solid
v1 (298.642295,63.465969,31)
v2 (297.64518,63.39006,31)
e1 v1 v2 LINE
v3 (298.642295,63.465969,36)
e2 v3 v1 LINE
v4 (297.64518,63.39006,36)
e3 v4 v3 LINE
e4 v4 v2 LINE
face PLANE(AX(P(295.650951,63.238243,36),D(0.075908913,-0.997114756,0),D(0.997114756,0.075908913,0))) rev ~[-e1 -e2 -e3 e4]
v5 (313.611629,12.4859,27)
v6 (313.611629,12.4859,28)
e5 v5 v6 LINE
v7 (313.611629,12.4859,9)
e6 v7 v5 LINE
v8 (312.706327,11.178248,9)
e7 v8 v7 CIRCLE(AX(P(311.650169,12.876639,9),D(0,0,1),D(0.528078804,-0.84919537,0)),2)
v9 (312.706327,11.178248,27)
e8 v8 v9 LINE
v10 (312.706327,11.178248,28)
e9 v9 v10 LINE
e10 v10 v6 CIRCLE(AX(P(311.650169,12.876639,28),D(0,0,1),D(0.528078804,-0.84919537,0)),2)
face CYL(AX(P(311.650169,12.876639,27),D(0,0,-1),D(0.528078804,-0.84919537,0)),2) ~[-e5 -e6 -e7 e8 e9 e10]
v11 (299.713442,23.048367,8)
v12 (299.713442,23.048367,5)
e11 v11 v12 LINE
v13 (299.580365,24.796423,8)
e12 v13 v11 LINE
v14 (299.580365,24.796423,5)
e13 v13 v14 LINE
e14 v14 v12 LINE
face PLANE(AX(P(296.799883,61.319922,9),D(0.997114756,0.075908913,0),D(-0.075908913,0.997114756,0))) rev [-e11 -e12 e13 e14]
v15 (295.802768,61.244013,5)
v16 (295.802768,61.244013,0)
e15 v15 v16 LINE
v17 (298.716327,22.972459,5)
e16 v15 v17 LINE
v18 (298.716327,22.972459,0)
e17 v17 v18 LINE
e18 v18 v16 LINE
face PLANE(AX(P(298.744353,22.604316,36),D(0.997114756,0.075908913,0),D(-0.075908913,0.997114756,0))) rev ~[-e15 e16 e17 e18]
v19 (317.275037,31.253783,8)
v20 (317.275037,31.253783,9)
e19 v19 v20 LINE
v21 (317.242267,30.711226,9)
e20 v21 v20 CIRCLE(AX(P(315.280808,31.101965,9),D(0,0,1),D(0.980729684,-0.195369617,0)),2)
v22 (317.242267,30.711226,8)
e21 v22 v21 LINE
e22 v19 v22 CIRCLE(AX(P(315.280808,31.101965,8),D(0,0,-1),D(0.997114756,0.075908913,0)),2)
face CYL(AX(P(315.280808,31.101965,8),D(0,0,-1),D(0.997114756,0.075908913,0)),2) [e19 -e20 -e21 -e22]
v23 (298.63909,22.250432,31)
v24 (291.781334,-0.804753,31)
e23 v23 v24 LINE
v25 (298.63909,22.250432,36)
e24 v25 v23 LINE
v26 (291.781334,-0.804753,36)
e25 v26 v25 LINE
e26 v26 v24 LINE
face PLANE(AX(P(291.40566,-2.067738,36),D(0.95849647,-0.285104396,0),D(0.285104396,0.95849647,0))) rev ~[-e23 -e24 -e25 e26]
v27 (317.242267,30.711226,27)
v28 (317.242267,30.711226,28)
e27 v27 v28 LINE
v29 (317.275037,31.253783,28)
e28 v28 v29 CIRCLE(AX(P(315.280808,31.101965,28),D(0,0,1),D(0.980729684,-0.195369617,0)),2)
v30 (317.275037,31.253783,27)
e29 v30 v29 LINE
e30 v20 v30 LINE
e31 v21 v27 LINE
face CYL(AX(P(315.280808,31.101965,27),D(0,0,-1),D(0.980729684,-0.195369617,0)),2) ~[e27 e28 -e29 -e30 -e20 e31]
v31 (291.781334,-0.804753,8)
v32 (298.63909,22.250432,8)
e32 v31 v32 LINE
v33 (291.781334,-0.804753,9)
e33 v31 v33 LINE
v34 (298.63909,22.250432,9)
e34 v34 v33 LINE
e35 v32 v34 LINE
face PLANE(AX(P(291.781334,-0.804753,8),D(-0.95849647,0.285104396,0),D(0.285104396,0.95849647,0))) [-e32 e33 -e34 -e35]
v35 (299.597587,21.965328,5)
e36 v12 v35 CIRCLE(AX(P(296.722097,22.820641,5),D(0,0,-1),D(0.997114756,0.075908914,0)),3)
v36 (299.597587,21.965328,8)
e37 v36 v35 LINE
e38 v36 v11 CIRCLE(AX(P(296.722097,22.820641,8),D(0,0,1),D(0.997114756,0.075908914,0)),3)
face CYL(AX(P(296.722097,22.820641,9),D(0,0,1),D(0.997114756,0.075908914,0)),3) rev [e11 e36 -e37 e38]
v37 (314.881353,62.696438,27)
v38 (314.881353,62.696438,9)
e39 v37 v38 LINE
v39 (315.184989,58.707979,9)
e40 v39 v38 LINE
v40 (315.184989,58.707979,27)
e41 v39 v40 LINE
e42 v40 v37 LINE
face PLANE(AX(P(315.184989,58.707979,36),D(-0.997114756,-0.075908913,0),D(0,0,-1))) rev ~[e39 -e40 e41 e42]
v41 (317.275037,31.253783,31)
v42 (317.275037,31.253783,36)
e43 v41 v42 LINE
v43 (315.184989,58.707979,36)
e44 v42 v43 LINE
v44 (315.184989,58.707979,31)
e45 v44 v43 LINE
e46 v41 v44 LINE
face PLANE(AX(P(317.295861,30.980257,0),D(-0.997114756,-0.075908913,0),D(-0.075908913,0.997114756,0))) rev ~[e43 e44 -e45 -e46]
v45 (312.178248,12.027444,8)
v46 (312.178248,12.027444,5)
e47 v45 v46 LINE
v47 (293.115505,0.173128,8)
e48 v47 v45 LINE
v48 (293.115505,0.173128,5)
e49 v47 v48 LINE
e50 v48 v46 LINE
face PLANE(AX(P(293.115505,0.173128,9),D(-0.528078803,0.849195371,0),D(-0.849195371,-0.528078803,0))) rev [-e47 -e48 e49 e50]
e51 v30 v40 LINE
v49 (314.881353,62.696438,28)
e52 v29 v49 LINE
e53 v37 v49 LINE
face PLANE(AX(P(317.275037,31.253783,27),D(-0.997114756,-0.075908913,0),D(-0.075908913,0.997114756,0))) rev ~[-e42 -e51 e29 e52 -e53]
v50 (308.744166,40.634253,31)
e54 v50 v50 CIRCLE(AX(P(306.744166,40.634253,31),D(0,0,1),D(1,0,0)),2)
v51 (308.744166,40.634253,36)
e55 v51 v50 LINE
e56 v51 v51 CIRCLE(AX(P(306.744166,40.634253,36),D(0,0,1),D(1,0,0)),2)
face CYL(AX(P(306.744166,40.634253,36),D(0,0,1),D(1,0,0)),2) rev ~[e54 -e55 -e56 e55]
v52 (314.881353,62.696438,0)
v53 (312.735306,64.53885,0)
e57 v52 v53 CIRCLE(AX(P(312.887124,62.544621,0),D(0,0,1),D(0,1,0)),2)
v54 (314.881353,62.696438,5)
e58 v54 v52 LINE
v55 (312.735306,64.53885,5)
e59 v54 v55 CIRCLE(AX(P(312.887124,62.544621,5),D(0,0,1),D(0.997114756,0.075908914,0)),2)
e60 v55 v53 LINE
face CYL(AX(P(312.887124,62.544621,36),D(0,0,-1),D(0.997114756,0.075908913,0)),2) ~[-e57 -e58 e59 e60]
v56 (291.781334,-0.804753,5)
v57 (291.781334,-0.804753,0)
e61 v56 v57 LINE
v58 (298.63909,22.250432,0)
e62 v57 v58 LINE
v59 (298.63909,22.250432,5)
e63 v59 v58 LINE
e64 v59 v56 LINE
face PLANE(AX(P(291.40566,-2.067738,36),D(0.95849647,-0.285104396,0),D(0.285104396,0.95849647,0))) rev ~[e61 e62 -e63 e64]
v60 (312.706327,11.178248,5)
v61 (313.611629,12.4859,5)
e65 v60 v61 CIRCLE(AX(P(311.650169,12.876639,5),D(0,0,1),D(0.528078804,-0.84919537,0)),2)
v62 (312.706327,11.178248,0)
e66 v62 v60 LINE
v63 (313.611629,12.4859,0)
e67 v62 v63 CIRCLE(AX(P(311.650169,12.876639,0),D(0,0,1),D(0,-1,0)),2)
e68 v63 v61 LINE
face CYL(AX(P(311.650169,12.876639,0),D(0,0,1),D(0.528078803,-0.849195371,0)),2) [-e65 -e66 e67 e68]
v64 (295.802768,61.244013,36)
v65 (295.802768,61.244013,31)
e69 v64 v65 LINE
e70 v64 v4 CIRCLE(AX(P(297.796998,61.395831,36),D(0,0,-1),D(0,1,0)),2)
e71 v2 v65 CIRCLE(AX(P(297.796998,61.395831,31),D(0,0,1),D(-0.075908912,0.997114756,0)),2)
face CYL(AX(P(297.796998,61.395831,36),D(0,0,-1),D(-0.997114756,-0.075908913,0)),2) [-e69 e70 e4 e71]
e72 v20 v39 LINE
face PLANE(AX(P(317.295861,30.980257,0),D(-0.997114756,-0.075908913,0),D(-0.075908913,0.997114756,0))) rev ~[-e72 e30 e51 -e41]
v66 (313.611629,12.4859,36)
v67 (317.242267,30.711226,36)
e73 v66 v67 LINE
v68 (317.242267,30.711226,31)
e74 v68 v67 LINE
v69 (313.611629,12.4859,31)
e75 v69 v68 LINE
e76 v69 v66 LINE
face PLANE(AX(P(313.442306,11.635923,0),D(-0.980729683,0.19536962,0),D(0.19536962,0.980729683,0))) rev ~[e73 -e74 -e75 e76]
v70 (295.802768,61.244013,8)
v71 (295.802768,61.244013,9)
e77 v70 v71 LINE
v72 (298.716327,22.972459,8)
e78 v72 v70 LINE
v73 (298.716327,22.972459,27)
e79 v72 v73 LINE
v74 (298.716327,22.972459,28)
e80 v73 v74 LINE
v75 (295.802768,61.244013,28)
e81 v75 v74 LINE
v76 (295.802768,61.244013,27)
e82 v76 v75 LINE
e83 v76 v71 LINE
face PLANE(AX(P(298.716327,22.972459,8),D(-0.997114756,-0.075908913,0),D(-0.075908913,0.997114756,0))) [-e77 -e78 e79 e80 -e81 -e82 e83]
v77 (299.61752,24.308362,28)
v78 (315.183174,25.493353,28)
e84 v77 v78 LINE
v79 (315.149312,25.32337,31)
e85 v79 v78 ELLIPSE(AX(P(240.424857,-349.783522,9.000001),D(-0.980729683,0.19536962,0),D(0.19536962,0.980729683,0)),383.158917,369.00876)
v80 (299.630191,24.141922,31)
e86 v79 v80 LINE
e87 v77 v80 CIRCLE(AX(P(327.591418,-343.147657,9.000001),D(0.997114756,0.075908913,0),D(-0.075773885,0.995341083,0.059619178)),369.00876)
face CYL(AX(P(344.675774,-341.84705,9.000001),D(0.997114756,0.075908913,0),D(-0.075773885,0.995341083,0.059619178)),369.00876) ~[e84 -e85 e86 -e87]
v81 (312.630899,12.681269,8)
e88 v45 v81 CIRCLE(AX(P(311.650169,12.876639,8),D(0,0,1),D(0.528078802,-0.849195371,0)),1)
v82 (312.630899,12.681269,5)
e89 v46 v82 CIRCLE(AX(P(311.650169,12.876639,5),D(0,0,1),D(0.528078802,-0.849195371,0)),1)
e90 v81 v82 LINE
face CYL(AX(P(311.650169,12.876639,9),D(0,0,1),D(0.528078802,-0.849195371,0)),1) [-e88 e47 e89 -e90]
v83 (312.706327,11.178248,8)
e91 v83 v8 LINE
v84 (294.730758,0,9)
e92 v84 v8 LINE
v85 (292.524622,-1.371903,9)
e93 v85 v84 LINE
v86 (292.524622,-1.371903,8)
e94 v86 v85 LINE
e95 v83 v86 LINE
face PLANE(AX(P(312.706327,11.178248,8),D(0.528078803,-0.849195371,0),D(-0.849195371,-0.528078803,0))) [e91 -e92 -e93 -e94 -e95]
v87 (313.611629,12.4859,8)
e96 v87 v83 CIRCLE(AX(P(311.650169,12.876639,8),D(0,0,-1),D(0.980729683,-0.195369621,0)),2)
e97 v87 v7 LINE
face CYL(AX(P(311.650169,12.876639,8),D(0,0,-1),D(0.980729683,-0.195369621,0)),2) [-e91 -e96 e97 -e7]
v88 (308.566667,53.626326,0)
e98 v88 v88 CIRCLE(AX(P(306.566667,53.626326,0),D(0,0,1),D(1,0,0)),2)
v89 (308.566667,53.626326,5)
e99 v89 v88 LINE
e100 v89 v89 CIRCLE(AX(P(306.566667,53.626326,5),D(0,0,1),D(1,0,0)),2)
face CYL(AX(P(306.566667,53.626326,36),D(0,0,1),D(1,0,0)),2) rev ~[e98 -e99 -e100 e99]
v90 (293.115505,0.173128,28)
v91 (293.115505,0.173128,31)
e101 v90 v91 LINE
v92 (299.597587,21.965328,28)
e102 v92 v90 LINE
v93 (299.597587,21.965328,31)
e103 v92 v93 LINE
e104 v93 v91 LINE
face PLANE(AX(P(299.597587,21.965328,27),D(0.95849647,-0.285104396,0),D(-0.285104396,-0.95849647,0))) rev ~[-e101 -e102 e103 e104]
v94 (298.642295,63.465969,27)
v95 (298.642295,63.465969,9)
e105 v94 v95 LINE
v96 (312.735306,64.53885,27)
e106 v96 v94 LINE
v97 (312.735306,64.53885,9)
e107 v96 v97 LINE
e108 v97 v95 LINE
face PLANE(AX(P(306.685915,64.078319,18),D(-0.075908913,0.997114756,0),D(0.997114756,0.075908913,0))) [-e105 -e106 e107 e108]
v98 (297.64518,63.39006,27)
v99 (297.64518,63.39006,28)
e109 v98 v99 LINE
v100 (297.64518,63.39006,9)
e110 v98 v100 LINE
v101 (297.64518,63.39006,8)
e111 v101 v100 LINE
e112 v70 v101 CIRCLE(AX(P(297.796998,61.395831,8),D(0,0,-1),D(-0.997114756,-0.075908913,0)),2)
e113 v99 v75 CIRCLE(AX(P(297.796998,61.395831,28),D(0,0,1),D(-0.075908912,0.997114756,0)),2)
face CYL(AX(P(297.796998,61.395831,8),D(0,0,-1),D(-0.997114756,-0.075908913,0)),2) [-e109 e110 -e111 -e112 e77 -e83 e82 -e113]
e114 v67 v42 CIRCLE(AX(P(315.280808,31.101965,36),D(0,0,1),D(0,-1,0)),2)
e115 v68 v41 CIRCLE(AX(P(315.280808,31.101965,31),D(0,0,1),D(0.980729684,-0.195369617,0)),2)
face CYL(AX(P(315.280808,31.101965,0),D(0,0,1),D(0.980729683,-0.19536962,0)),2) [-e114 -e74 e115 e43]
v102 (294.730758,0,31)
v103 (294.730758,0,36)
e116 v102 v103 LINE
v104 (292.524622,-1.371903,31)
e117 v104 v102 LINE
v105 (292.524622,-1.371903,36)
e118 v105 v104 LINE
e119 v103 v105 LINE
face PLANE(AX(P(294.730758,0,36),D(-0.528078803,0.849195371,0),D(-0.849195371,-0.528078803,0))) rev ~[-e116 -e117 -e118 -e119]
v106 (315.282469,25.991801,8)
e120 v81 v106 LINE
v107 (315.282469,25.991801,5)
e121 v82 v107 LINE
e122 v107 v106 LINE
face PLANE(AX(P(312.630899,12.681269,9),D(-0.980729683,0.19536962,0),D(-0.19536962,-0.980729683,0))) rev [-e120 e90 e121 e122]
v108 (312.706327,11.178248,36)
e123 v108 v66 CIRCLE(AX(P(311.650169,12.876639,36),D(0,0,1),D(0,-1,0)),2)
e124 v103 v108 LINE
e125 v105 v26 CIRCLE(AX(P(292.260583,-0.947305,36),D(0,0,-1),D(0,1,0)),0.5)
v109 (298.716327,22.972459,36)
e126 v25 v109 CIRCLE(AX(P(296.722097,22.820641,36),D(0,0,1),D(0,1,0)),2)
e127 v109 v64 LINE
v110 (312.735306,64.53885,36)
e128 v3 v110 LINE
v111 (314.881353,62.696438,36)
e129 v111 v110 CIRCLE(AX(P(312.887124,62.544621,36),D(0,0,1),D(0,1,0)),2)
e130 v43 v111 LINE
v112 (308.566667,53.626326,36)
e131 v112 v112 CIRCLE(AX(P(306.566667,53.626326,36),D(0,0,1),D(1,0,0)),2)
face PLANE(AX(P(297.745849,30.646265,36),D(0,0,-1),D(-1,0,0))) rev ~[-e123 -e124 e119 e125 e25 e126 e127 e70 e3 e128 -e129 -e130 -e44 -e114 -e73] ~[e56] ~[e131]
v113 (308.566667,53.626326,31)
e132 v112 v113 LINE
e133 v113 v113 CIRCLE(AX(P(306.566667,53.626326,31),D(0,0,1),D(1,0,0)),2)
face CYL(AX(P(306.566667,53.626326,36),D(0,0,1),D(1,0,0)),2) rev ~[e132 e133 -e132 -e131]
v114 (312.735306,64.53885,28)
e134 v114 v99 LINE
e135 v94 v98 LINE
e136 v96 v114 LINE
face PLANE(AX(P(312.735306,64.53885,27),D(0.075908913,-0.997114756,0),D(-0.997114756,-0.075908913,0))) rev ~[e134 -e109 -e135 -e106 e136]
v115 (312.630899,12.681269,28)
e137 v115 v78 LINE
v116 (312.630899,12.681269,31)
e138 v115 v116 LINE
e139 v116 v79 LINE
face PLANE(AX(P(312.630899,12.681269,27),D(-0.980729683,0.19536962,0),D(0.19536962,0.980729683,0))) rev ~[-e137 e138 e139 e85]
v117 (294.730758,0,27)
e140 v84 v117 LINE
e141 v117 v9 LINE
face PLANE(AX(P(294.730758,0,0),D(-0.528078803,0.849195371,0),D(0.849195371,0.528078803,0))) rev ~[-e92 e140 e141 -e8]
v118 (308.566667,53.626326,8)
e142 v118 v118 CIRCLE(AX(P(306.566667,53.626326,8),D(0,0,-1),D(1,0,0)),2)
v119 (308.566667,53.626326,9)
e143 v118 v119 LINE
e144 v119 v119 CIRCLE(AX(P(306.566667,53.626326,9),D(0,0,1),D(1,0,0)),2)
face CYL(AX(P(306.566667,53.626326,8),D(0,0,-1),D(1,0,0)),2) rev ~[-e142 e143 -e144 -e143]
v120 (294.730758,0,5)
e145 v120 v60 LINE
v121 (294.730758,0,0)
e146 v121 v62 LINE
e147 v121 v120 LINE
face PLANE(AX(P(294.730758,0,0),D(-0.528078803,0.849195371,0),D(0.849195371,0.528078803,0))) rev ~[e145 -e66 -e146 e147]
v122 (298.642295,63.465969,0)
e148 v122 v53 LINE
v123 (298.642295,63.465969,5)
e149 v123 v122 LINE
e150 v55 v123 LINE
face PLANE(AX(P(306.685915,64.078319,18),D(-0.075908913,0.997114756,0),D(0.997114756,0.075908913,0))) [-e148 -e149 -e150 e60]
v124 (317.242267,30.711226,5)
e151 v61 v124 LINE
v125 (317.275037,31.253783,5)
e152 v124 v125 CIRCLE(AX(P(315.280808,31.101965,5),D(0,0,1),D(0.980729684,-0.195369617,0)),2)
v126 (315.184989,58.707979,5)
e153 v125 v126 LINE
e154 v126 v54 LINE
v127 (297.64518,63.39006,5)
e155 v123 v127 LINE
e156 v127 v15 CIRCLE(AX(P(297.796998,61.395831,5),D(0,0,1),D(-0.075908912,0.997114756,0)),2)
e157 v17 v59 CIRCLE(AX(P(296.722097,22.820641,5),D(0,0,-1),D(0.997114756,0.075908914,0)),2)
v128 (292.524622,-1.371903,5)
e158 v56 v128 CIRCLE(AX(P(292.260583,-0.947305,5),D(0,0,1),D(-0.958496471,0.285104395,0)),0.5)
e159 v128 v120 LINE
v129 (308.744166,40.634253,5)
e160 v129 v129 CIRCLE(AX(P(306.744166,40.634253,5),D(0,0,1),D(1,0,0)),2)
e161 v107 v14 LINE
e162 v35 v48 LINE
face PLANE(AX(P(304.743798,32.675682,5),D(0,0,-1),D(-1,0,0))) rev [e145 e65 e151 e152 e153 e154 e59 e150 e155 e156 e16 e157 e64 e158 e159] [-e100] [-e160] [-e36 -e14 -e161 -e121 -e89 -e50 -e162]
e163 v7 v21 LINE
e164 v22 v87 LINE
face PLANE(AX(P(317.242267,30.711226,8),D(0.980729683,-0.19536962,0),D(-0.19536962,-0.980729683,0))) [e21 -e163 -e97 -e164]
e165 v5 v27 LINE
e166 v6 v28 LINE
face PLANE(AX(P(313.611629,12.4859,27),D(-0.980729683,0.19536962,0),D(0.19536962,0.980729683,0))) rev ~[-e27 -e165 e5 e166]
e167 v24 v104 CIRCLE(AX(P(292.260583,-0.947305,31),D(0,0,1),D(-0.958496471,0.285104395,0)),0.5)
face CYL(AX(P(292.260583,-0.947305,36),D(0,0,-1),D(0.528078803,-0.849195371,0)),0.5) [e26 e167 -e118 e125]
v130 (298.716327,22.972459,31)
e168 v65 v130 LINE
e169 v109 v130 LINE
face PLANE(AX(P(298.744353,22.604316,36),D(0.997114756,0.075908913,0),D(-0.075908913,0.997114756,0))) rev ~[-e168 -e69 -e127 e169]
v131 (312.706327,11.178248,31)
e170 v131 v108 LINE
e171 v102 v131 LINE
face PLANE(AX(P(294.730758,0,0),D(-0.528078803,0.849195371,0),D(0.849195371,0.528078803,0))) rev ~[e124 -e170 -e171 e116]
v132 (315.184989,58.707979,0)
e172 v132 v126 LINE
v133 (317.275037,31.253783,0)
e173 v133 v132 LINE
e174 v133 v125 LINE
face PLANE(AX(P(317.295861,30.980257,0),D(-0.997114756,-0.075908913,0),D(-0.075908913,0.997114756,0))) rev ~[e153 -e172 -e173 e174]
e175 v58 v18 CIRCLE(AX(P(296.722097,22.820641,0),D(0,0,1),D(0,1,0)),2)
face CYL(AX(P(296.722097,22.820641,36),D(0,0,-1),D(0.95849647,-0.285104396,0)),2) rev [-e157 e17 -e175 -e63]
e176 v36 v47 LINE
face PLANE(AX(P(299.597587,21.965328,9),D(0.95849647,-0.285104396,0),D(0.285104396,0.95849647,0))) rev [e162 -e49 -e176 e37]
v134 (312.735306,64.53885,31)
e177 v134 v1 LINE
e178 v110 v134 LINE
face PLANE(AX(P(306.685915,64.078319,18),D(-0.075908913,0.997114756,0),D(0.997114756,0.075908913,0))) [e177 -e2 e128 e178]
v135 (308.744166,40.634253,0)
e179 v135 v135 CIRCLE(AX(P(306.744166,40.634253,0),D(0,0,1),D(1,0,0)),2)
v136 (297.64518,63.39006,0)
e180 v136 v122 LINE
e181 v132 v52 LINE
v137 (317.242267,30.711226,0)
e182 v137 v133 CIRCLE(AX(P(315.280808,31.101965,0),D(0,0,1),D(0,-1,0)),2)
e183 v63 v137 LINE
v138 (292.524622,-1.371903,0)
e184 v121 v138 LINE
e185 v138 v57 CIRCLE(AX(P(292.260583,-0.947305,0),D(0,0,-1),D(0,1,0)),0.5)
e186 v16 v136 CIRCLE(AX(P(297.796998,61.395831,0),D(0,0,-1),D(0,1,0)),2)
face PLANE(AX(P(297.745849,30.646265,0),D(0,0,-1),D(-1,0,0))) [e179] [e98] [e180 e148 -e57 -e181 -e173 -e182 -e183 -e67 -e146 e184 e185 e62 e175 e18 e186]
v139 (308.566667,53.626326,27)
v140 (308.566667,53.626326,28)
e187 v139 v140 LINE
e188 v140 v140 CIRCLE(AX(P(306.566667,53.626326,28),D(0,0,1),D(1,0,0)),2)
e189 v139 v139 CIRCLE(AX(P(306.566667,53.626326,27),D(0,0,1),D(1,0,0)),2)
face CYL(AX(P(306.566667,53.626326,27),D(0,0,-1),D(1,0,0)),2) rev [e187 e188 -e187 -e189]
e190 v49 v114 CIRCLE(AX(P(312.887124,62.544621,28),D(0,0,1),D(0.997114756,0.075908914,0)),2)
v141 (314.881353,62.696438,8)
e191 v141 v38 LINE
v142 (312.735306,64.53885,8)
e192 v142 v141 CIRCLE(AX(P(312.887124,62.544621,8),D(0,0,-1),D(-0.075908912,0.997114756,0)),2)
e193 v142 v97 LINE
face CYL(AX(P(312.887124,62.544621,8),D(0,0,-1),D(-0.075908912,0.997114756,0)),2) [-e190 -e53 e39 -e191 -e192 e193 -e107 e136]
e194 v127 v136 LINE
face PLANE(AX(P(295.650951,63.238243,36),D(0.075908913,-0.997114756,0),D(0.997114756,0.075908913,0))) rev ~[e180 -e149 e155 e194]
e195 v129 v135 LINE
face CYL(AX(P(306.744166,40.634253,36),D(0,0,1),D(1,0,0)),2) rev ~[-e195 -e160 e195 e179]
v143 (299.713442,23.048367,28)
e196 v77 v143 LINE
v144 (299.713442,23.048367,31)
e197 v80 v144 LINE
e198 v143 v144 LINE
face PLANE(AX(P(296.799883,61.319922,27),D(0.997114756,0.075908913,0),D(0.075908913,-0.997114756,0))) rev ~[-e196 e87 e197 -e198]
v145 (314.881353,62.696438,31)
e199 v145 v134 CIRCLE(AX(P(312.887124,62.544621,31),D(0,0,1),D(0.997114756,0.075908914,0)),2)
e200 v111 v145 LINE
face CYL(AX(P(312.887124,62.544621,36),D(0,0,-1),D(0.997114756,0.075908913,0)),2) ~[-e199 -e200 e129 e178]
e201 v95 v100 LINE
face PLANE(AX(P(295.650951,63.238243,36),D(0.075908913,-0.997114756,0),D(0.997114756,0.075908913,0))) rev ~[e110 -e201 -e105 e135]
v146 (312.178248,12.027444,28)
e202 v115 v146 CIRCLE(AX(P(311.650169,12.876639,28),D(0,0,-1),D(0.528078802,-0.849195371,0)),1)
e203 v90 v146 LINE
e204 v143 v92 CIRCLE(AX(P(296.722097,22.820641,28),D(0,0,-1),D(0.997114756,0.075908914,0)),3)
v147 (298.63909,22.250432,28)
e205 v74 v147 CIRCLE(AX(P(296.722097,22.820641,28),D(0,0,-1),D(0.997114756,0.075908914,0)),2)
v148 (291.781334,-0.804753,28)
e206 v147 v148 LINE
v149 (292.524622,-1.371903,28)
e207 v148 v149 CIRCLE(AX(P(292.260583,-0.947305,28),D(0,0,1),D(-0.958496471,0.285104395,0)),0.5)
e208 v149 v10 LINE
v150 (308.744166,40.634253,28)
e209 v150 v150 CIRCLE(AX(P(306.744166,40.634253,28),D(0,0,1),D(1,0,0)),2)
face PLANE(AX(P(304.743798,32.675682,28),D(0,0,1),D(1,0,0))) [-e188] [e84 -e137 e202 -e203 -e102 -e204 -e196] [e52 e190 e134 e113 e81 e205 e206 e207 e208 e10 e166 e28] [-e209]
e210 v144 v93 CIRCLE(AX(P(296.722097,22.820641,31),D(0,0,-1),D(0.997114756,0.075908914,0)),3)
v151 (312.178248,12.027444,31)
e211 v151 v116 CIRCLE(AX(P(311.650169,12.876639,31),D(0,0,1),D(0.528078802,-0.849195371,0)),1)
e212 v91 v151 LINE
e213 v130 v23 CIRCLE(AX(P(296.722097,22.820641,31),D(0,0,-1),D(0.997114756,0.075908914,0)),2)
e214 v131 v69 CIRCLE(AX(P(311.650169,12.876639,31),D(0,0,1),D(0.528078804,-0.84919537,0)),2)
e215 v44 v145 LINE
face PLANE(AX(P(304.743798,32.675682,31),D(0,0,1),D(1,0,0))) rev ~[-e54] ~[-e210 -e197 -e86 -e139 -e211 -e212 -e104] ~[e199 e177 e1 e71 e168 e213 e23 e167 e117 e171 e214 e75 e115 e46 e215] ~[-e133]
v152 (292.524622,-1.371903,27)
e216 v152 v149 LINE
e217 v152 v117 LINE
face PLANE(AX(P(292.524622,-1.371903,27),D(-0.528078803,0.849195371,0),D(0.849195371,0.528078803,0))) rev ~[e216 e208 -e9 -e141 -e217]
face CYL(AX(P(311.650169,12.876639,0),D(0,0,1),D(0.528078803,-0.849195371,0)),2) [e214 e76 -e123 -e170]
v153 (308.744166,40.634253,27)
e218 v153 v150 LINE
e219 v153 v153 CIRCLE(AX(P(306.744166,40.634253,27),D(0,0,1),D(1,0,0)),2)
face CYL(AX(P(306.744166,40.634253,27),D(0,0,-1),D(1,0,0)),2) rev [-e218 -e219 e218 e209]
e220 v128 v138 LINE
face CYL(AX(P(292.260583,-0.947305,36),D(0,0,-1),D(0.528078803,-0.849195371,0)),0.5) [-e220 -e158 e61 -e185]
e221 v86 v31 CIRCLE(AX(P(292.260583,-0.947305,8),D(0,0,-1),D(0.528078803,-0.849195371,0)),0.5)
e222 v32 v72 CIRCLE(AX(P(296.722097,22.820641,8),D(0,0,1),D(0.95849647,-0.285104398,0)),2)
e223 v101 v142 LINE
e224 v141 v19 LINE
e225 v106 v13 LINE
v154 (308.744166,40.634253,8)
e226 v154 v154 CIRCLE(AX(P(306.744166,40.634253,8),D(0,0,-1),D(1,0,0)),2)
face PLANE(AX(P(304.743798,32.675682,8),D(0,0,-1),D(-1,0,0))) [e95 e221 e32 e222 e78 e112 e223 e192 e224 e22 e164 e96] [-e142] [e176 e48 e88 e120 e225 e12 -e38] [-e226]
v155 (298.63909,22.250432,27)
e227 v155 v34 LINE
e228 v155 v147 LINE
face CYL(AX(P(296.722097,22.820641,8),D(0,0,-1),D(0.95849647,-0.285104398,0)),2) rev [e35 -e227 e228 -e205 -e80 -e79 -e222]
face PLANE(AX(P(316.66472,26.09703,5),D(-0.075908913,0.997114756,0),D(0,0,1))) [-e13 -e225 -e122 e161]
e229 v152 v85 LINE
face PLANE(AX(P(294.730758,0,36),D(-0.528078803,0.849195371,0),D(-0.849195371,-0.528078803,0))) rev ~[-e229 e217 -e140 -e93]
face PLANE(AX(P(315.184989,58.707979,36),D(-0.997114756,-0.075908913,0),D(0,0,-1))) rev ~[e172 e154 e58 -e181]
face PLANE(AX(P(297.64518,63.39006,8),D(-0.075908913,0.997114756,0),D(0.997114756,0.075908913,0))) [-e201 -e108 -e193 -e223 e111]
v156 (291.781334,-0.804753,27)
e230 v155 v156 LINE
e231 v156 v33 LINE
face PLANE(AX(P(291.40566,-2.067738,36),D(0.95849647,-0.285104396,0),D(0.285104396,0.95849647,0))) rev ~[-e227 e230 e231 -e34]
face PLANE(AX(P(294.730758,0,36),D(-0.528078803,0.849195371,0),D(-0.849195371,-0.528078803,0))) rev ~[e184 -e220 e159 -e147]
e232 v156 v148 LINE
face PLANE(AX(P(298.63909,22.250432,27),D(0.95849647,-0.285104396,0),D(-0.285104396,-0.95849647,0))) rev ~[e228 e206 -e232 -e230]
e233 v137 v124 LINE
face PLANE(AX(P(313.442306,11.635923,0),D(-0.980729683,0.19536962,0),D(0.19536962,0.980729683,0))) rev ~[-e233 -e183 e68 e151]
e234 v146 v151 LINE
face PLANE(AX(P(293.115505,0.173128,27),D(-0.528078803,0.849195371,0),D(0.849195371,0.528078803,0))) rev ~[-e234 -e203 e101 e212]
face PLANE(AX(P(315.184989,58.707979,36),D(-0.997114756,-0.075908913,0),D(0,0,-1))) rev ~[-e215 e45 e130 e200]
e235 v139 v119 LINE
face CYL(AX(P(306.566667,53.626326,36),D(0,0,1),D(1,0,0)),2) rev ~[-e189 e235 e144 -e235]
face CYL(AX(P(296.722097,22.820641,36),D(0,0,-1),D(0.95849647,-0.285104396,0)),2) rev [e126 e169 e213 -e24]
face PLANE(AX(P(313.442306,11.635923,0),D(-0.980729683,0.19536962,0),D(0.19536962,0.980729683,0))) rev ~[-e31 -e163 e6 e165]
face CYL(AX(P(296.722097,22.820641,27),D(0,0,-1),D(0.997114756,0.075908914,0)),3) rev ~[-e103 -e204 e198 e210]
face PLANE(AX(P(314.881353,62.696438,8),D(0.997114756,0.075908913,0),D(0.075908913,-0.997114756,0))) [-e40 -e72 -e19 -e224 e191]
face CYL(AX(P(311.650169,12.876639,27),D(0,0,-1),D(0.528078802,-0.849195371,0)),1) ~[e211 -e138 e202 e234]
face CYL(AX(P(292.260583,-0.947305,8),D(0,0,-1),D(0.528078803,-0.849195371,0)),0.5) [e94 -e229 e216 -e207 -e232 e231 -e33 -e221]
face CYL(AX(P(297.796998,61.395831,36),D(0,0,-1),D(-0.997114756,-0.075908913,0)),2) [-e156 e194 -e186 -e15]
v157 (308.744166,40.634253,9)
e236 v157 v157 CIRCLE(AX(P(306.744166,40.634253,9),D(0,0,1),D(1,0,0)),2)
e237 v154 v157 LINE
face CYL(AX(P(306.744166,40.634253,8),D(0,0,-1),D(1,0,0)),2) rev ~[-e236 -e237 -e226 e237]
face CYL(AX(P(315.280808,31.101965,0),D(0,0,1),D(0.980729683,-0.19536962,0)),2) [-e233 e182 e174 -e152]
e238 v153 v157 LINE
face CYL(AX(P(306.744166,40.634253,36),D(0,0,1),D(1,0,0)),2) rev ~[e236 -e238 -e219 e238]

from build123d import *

# Parameters (mm, degrees)
EXTRUDE_1_DEPTH     = 36
SKETCH_2_W          = 16.133790568
SKETCH_2_H          = 36
EXTRUDE_2_DEPTH     = 6
EXTRUDE_3_DEPTH     = 36
FILLET_2_R          = 0.5
FILLET_4_R          = 2
CUT_EXTRUDE_START   = -4
CUT_EXTRUDE_1_DEPTH = 4
CUT_EXTRUDE_2_DEPTH = 60.648936936
CUT_EXTRUDE_4_DEPTH = 60.648936936
SKETCH_10_R         = 2
CUT_EXTRUDE_5_DEPTH = 292.913162357
SKETCH_11_R         = 2
EXTRUDE_6_DEPTH     = 1
EXTRUDE_START       = 1
SKETCH_12_R         = 2
EXTRUDE_7_DEPTH     = 1


with BuildPart() as part:
    # 草图1 → 凸台-拉伸1 (new body)
    with BuildSketch(Plane.XY):
        Polygon((299.097748252, 57.483280844), (301.735697168, 22.832042919), (294.730758259, 0), (313.442305989, 11.635922746), (317.295860503, 30.980257384), (315.184988901, 58.707979342), align=None)
    extrude(amount=EXTRUDE_1_DEPTH)

    # 草图2 → 凸台-拉伸2 (add)
    with BuildSketch(Plane(origin=(-2.627453617, 34.513375093, 0), x_dir=(0.9971147561793038, 0.07590891258269725, 0), z_dir=(-0.07590891258269725, 0.9971147561793038, 0))):
        with Locations((310.665166947, -18)):
            Rectangle(SKETCH_2_W, SKETCH_2_H)
    extrude(amount=EXTRUDE_2_DEPTH)

    # 草图3 → 凸台-拉伸3 (add)
    with BuildSketch(Plane.XY.offset(36)):
        Polygon((298.642294776, 63.465969381), (301.735697168, 22.832042919), (294.730758259, 0), (291.40566003, -2.067738419), (298.7443529, 22.604316182), (295.650950508, 63.238242643), align=None)
    extrude(amount=-EXTRUDE_3_DEPTH)

    # 圆角2
    fillet_2_edges = [part.edges().sort_by_distance(p)[0] for p in [
        (291.40566003, -2.067738419, 18),
    ]]
    fillet(fillet_2_edges, radius=FILLET_2_R)

    # 圆角4
    fillet_4_edges = [part.edges().sort_by_distance(p)[0] for p in [
        (317.295860503, 30.980257384, 18),
        (313.442305989, 11.635922746, 18),
        (314.729535426, 64.690667879, 18),
        (298.7443529, 22.604316182, 18),
        (295.650950508, 63.238242643, 18),
    ]]
    fillet(fillet_4_edges, radius=FILLET_4_R)

    # 草图4 → 切除-拉伸1 (cut)
    with BuildSketch(Plane.XY.offset(31).offset(CUT_EXTRUDE_START)):
        with BuildLine():
            Line((292.524622126, -1.371903061), (312.706326829, 11.178248331))
            ThreePointArc((312.706326829, 11.178248331), (313.294550919, 11.738215234), (313.61162859, 12.485899834))
            Line((313.61162859, 12.485899834), (317.242267225, 30.711226207))
            ThreePointArc((317.242267225, 30.711226207), (317.277169716, 30.981386297), (317.27503737, 31.253783271))
            Line((317.27503737, 31.253783271), (314.881353251, 62.696438367))
            ThreePointArc((314.881353251, 62.696438367), (314.189905536, 64.062105166), (312.735305913, 64.538850054))
            Line((312.735305913, 64.538850054), (297.64518002, 63.390060468))
            ThreePointArc((297.64518002, 63.390060468), (296.27951322, 62.698612754), (295.802768333, 61.244013131))
            Line((295.802768333, 61.244013131), (298.716326749, 22.972458573))
            ThreePointArc((298.716326749, 22.972458573), (298.710751525, 22.607910585), (298.639090177, 22.250431957))
            Line((298.639090177, 22.250431957), (291.781334489, -0.804753178))
            ThreePointArc((291.781334489, -0.804753178), (291.957278491, -1.344805743), (292.524622126, -1.371903061))
        make_face()
        with BuildLine():
            Line((312.811214826, 63.541735298), (297.721088933, 62.392945712))
            ThreePointArc((297.721088933, 62.392945712), (297.038255533, 62.047221855), (296.799883089, 61.319922043))
            Line((296.799883089, 61.319922043), (299.713441505, 23.048367486))
            ThreePointArc((299.713441505, 23.048367486), (299.705078669, 22.501545504), (299.597586647, 21.965327561))
            Line((299.597586647, 21.965327561), (293.115505419, 0.173127667))
            Line((293.115505419, 0.173127667), (312.178248026, 12.027443702))
            ThreePointArc((312.178248026, 12.027443702), (312.472360071, 12.307427153), (312.630898906, 12.681269453))
            Line((312.630898906, 12.681269453), (316.261537541, 30.906595826))
            ThreePointArc((316.261537541, 30.906595826), (316.278988787, 31.041675872), (316.277922614, 31.177874358))
            Line((316.277922614, 31.177874358), (313.884238495, 62.620529454))
            ThreePointArc((313.884238495, 62.620529454), (313.538514637, 63.303362854), (312.811214826, 63.541735298))
        make_face(mode=Mode.SUBTRACT)
    cut_extrude_1 = extrude(amount=CUT_EXTRUDE_1_DEPTH, mode=Mode.SUBTRACT)

    # 镜向1: 切除-拉伸1 across plane
    add(cut_extrude_1.mirror(Plane.XY.offset(18)), mode=Mode.SUBTRACT)

    # 草图5 → 切除-拉伸2 (cut, through all)
    with BuildSketch(Plane(origin=(316.815327762, 24.118695337, 0), x_dir=(0, 0, -1), z_dir=(0.9971147561793037, 0.07590891258269838, 0))):
        Polygon((-9, 29.005921915), (-5, 29.005921915), (-5, 7.07960541), (-5, 1.984059182), (-9, 1.984059182), (-9, 7.07960541), align=None)
        with BuildLine():
            Line((-31, 29.005921915), (-31, 7.07960541))
            Line((-31, 7.07960541), (-31, 1.327664424))
            ThreePointArc((-31, 1.327664424), (-29.000294628, 1.441652043), (-27, 1.544783774))
            Line((-27, 1.544783774), (-27, 7.07960541))
            Line((-27, 7.07960541), (-27, 29.005921915))
            Line((-27, 29.005921915), (-31, 29.005921915))
        make_face()
    extrude(amount=-CUT_EXTRUDE_2_DEPTH, mode=Mode.SUBTRACT)

    # 草图9 → 切除-拉伸4 (cut, through all)
    with BuildSketch(Plane(origin=(316.815327762, 24.118695337, 0), x_dir=(0, 0, -1), z_dir=(0.9971147561793037, 0.07590891258269838, 0))):
        Polygon((-9, 38.613242737), (-9, 41.460309821), (-5, 41.460309821), (-5, 38.613242737), (-5, 29.005921915), (-9, 29.005921915), align=None)
        Polygon((-31, 38.613242737), (-31, 44.422842446), (-27, 44.422842446), (-27, 38.613242737), (-27, 29.005921915), (-31, 29.005921915), align=None)
    extrude(amount=-CUT_EXTRUDE_4_DEPTH, mode=Mode.SUBTRACT)

    # 草图10 → 切除-拉伸5 (cut, through all)
    with BuildSketch(Plane(origin=(66.866773871, -81.092277049, 36), x_dir=(0.7883945685937017, 0.6151698986556081, 0), z_dir=(0, 0, 1))):
        with Locations(Location((264.00053068, -51.596816089, 0), (0, 0, 322.035733535))):
            Circle(SKETCH_10_R)
        with Locations(Location((271.852922924, -41.244744086, 0), (0, 0, 322.035733535))):
            Circle(SKETCH_10_R)
    extrude(amount=-CUT_EXTRUDE_5_DEPTH, mode=Mode.SUBTRACT)

    # 草图11 → 凸台-拉伸6 (add)
    with BuildSketch(Plane.XY.offset(27)):
        with BuildLine():
            Line((312.735305913, 64.538850054), (297.64518002, 63.390060468))
            ThreePointArc((297.64518002, 63.390060468), (296.27951322, 62.698612754), (295.802768333, 61.244013131))
            Line((295.802768333, 61.244013131), (298.716326749, 22.972458573))
            ThreePointArc((298.716326749, 22.972458573), (298.710751525, 22.607910585), (298.639090177, 22.250431957))
            Line((298.639090177, 22.250431957), (291.781334489, -0.804753178))
            ThreePointArc((291.781334489, -0.804753178), (291.957278491, -1.344805743), (292.524622126, -1.371903061))
            Line((292.524622126, -1.371903061), (312.706326829, 11.178248331))
            ThreePointArc((312.706326829, 11.178248331), (313.294550919, 11.738215234), (313.61162859, 12.485899834))
            Line((313.61162859, 12.485899834), (317.242267225, 30.711226207))
            ThreePointArc((317.242267225, 30.711226207), (317.277169716, 30.981386297), (317.27503737, 31.253783271))
            Line((317.27503737, 31.253783271), (314.881353251, 62.696438367))
            ThreePointArc((314.881353251, 62.696438367), (314.189905536, 64.062105166), (312.735305913, 64.538850054))
        make_face()
        with Locations((306.74416649, 40.634253093)):
            Circle(SKETCH_11_R, mode=Mode.SUBTRACT)
        with Locations((306.5666668, 53.626325775)):
            Circle(SKETCH_11_R, mode=Mode.SUBTRACT)
    extrude(amount=EXTRUDE_6_DEPTH)

    # 草图12 → 凸台-拉伸7 (add)
    with BuildSketch(Plane(origin=(0, 0, 9), x_dir=(-1, 0, 0), z_dir=(0, 0, -1)).offset(EXTRUDE_START)):
        with BuildLine():
            Line((-298.716326749, 22.972458573), (-295.802768333, 61.244013131))
            ThreePointArc((-295.802768333, 61.244013131), (-296.27951322, 62.698612754), (-297.64518002, 63.390060468))
            Line((-297.64518002, 63.390060468), (-312.735305913, 64.538850054))
            ThreePointArc((-312.735305913, 64.538850054), (-314.189905536, 64.062105166), (-314.881353251, 62.696438367))
            Line((-314.881353251, 62.696438367), (-317.27503737, 31.253783271))
            ThreePointArc((-317.27503737, 31.253783271), (-317.277169716, 30.981386297), (-317.242267225, 30.711226207))
            Line((-317.242267225, 30.711226207), (-313.61162859, 12.485899834))
            ThreePointArc((-313.61162859, 12.485899834), (-313.294550919, 11.738215234), (-312.706326829, 11.178248331))
            Line((-312.706326829, 11.178248331), (-292.524622126, -1.371903061))
            ThreePointArc((-292.524622126, -1.371903061), (-291.957278491, -1.344805743), (-291.781334489, -0.804753178))
            Line((-291.781334489, -0.804753178), (-298.639090177, 22.250431957))
            ThreePointArc((-298.639090177, 22.250431957), (-298.710751525, 22.607910585), (-298.716326749, 22.972458573))
        make_face()
        with Locations(Location((-306.74416649, 40.634253093, 0), (0, 0, 180))):
            Circle(SKETCH_12_R, mode=Mode.SUBTRACT)
        with Locations(Location((-306.5666668, 53.626325775, 0), (0, 0, 180))):
            Circle(SKETCH_12_R, mode=Mode.SUBTRACT)
    extrude(amount=-EXTRUDE_7_DEPTH)


solid = part.part
